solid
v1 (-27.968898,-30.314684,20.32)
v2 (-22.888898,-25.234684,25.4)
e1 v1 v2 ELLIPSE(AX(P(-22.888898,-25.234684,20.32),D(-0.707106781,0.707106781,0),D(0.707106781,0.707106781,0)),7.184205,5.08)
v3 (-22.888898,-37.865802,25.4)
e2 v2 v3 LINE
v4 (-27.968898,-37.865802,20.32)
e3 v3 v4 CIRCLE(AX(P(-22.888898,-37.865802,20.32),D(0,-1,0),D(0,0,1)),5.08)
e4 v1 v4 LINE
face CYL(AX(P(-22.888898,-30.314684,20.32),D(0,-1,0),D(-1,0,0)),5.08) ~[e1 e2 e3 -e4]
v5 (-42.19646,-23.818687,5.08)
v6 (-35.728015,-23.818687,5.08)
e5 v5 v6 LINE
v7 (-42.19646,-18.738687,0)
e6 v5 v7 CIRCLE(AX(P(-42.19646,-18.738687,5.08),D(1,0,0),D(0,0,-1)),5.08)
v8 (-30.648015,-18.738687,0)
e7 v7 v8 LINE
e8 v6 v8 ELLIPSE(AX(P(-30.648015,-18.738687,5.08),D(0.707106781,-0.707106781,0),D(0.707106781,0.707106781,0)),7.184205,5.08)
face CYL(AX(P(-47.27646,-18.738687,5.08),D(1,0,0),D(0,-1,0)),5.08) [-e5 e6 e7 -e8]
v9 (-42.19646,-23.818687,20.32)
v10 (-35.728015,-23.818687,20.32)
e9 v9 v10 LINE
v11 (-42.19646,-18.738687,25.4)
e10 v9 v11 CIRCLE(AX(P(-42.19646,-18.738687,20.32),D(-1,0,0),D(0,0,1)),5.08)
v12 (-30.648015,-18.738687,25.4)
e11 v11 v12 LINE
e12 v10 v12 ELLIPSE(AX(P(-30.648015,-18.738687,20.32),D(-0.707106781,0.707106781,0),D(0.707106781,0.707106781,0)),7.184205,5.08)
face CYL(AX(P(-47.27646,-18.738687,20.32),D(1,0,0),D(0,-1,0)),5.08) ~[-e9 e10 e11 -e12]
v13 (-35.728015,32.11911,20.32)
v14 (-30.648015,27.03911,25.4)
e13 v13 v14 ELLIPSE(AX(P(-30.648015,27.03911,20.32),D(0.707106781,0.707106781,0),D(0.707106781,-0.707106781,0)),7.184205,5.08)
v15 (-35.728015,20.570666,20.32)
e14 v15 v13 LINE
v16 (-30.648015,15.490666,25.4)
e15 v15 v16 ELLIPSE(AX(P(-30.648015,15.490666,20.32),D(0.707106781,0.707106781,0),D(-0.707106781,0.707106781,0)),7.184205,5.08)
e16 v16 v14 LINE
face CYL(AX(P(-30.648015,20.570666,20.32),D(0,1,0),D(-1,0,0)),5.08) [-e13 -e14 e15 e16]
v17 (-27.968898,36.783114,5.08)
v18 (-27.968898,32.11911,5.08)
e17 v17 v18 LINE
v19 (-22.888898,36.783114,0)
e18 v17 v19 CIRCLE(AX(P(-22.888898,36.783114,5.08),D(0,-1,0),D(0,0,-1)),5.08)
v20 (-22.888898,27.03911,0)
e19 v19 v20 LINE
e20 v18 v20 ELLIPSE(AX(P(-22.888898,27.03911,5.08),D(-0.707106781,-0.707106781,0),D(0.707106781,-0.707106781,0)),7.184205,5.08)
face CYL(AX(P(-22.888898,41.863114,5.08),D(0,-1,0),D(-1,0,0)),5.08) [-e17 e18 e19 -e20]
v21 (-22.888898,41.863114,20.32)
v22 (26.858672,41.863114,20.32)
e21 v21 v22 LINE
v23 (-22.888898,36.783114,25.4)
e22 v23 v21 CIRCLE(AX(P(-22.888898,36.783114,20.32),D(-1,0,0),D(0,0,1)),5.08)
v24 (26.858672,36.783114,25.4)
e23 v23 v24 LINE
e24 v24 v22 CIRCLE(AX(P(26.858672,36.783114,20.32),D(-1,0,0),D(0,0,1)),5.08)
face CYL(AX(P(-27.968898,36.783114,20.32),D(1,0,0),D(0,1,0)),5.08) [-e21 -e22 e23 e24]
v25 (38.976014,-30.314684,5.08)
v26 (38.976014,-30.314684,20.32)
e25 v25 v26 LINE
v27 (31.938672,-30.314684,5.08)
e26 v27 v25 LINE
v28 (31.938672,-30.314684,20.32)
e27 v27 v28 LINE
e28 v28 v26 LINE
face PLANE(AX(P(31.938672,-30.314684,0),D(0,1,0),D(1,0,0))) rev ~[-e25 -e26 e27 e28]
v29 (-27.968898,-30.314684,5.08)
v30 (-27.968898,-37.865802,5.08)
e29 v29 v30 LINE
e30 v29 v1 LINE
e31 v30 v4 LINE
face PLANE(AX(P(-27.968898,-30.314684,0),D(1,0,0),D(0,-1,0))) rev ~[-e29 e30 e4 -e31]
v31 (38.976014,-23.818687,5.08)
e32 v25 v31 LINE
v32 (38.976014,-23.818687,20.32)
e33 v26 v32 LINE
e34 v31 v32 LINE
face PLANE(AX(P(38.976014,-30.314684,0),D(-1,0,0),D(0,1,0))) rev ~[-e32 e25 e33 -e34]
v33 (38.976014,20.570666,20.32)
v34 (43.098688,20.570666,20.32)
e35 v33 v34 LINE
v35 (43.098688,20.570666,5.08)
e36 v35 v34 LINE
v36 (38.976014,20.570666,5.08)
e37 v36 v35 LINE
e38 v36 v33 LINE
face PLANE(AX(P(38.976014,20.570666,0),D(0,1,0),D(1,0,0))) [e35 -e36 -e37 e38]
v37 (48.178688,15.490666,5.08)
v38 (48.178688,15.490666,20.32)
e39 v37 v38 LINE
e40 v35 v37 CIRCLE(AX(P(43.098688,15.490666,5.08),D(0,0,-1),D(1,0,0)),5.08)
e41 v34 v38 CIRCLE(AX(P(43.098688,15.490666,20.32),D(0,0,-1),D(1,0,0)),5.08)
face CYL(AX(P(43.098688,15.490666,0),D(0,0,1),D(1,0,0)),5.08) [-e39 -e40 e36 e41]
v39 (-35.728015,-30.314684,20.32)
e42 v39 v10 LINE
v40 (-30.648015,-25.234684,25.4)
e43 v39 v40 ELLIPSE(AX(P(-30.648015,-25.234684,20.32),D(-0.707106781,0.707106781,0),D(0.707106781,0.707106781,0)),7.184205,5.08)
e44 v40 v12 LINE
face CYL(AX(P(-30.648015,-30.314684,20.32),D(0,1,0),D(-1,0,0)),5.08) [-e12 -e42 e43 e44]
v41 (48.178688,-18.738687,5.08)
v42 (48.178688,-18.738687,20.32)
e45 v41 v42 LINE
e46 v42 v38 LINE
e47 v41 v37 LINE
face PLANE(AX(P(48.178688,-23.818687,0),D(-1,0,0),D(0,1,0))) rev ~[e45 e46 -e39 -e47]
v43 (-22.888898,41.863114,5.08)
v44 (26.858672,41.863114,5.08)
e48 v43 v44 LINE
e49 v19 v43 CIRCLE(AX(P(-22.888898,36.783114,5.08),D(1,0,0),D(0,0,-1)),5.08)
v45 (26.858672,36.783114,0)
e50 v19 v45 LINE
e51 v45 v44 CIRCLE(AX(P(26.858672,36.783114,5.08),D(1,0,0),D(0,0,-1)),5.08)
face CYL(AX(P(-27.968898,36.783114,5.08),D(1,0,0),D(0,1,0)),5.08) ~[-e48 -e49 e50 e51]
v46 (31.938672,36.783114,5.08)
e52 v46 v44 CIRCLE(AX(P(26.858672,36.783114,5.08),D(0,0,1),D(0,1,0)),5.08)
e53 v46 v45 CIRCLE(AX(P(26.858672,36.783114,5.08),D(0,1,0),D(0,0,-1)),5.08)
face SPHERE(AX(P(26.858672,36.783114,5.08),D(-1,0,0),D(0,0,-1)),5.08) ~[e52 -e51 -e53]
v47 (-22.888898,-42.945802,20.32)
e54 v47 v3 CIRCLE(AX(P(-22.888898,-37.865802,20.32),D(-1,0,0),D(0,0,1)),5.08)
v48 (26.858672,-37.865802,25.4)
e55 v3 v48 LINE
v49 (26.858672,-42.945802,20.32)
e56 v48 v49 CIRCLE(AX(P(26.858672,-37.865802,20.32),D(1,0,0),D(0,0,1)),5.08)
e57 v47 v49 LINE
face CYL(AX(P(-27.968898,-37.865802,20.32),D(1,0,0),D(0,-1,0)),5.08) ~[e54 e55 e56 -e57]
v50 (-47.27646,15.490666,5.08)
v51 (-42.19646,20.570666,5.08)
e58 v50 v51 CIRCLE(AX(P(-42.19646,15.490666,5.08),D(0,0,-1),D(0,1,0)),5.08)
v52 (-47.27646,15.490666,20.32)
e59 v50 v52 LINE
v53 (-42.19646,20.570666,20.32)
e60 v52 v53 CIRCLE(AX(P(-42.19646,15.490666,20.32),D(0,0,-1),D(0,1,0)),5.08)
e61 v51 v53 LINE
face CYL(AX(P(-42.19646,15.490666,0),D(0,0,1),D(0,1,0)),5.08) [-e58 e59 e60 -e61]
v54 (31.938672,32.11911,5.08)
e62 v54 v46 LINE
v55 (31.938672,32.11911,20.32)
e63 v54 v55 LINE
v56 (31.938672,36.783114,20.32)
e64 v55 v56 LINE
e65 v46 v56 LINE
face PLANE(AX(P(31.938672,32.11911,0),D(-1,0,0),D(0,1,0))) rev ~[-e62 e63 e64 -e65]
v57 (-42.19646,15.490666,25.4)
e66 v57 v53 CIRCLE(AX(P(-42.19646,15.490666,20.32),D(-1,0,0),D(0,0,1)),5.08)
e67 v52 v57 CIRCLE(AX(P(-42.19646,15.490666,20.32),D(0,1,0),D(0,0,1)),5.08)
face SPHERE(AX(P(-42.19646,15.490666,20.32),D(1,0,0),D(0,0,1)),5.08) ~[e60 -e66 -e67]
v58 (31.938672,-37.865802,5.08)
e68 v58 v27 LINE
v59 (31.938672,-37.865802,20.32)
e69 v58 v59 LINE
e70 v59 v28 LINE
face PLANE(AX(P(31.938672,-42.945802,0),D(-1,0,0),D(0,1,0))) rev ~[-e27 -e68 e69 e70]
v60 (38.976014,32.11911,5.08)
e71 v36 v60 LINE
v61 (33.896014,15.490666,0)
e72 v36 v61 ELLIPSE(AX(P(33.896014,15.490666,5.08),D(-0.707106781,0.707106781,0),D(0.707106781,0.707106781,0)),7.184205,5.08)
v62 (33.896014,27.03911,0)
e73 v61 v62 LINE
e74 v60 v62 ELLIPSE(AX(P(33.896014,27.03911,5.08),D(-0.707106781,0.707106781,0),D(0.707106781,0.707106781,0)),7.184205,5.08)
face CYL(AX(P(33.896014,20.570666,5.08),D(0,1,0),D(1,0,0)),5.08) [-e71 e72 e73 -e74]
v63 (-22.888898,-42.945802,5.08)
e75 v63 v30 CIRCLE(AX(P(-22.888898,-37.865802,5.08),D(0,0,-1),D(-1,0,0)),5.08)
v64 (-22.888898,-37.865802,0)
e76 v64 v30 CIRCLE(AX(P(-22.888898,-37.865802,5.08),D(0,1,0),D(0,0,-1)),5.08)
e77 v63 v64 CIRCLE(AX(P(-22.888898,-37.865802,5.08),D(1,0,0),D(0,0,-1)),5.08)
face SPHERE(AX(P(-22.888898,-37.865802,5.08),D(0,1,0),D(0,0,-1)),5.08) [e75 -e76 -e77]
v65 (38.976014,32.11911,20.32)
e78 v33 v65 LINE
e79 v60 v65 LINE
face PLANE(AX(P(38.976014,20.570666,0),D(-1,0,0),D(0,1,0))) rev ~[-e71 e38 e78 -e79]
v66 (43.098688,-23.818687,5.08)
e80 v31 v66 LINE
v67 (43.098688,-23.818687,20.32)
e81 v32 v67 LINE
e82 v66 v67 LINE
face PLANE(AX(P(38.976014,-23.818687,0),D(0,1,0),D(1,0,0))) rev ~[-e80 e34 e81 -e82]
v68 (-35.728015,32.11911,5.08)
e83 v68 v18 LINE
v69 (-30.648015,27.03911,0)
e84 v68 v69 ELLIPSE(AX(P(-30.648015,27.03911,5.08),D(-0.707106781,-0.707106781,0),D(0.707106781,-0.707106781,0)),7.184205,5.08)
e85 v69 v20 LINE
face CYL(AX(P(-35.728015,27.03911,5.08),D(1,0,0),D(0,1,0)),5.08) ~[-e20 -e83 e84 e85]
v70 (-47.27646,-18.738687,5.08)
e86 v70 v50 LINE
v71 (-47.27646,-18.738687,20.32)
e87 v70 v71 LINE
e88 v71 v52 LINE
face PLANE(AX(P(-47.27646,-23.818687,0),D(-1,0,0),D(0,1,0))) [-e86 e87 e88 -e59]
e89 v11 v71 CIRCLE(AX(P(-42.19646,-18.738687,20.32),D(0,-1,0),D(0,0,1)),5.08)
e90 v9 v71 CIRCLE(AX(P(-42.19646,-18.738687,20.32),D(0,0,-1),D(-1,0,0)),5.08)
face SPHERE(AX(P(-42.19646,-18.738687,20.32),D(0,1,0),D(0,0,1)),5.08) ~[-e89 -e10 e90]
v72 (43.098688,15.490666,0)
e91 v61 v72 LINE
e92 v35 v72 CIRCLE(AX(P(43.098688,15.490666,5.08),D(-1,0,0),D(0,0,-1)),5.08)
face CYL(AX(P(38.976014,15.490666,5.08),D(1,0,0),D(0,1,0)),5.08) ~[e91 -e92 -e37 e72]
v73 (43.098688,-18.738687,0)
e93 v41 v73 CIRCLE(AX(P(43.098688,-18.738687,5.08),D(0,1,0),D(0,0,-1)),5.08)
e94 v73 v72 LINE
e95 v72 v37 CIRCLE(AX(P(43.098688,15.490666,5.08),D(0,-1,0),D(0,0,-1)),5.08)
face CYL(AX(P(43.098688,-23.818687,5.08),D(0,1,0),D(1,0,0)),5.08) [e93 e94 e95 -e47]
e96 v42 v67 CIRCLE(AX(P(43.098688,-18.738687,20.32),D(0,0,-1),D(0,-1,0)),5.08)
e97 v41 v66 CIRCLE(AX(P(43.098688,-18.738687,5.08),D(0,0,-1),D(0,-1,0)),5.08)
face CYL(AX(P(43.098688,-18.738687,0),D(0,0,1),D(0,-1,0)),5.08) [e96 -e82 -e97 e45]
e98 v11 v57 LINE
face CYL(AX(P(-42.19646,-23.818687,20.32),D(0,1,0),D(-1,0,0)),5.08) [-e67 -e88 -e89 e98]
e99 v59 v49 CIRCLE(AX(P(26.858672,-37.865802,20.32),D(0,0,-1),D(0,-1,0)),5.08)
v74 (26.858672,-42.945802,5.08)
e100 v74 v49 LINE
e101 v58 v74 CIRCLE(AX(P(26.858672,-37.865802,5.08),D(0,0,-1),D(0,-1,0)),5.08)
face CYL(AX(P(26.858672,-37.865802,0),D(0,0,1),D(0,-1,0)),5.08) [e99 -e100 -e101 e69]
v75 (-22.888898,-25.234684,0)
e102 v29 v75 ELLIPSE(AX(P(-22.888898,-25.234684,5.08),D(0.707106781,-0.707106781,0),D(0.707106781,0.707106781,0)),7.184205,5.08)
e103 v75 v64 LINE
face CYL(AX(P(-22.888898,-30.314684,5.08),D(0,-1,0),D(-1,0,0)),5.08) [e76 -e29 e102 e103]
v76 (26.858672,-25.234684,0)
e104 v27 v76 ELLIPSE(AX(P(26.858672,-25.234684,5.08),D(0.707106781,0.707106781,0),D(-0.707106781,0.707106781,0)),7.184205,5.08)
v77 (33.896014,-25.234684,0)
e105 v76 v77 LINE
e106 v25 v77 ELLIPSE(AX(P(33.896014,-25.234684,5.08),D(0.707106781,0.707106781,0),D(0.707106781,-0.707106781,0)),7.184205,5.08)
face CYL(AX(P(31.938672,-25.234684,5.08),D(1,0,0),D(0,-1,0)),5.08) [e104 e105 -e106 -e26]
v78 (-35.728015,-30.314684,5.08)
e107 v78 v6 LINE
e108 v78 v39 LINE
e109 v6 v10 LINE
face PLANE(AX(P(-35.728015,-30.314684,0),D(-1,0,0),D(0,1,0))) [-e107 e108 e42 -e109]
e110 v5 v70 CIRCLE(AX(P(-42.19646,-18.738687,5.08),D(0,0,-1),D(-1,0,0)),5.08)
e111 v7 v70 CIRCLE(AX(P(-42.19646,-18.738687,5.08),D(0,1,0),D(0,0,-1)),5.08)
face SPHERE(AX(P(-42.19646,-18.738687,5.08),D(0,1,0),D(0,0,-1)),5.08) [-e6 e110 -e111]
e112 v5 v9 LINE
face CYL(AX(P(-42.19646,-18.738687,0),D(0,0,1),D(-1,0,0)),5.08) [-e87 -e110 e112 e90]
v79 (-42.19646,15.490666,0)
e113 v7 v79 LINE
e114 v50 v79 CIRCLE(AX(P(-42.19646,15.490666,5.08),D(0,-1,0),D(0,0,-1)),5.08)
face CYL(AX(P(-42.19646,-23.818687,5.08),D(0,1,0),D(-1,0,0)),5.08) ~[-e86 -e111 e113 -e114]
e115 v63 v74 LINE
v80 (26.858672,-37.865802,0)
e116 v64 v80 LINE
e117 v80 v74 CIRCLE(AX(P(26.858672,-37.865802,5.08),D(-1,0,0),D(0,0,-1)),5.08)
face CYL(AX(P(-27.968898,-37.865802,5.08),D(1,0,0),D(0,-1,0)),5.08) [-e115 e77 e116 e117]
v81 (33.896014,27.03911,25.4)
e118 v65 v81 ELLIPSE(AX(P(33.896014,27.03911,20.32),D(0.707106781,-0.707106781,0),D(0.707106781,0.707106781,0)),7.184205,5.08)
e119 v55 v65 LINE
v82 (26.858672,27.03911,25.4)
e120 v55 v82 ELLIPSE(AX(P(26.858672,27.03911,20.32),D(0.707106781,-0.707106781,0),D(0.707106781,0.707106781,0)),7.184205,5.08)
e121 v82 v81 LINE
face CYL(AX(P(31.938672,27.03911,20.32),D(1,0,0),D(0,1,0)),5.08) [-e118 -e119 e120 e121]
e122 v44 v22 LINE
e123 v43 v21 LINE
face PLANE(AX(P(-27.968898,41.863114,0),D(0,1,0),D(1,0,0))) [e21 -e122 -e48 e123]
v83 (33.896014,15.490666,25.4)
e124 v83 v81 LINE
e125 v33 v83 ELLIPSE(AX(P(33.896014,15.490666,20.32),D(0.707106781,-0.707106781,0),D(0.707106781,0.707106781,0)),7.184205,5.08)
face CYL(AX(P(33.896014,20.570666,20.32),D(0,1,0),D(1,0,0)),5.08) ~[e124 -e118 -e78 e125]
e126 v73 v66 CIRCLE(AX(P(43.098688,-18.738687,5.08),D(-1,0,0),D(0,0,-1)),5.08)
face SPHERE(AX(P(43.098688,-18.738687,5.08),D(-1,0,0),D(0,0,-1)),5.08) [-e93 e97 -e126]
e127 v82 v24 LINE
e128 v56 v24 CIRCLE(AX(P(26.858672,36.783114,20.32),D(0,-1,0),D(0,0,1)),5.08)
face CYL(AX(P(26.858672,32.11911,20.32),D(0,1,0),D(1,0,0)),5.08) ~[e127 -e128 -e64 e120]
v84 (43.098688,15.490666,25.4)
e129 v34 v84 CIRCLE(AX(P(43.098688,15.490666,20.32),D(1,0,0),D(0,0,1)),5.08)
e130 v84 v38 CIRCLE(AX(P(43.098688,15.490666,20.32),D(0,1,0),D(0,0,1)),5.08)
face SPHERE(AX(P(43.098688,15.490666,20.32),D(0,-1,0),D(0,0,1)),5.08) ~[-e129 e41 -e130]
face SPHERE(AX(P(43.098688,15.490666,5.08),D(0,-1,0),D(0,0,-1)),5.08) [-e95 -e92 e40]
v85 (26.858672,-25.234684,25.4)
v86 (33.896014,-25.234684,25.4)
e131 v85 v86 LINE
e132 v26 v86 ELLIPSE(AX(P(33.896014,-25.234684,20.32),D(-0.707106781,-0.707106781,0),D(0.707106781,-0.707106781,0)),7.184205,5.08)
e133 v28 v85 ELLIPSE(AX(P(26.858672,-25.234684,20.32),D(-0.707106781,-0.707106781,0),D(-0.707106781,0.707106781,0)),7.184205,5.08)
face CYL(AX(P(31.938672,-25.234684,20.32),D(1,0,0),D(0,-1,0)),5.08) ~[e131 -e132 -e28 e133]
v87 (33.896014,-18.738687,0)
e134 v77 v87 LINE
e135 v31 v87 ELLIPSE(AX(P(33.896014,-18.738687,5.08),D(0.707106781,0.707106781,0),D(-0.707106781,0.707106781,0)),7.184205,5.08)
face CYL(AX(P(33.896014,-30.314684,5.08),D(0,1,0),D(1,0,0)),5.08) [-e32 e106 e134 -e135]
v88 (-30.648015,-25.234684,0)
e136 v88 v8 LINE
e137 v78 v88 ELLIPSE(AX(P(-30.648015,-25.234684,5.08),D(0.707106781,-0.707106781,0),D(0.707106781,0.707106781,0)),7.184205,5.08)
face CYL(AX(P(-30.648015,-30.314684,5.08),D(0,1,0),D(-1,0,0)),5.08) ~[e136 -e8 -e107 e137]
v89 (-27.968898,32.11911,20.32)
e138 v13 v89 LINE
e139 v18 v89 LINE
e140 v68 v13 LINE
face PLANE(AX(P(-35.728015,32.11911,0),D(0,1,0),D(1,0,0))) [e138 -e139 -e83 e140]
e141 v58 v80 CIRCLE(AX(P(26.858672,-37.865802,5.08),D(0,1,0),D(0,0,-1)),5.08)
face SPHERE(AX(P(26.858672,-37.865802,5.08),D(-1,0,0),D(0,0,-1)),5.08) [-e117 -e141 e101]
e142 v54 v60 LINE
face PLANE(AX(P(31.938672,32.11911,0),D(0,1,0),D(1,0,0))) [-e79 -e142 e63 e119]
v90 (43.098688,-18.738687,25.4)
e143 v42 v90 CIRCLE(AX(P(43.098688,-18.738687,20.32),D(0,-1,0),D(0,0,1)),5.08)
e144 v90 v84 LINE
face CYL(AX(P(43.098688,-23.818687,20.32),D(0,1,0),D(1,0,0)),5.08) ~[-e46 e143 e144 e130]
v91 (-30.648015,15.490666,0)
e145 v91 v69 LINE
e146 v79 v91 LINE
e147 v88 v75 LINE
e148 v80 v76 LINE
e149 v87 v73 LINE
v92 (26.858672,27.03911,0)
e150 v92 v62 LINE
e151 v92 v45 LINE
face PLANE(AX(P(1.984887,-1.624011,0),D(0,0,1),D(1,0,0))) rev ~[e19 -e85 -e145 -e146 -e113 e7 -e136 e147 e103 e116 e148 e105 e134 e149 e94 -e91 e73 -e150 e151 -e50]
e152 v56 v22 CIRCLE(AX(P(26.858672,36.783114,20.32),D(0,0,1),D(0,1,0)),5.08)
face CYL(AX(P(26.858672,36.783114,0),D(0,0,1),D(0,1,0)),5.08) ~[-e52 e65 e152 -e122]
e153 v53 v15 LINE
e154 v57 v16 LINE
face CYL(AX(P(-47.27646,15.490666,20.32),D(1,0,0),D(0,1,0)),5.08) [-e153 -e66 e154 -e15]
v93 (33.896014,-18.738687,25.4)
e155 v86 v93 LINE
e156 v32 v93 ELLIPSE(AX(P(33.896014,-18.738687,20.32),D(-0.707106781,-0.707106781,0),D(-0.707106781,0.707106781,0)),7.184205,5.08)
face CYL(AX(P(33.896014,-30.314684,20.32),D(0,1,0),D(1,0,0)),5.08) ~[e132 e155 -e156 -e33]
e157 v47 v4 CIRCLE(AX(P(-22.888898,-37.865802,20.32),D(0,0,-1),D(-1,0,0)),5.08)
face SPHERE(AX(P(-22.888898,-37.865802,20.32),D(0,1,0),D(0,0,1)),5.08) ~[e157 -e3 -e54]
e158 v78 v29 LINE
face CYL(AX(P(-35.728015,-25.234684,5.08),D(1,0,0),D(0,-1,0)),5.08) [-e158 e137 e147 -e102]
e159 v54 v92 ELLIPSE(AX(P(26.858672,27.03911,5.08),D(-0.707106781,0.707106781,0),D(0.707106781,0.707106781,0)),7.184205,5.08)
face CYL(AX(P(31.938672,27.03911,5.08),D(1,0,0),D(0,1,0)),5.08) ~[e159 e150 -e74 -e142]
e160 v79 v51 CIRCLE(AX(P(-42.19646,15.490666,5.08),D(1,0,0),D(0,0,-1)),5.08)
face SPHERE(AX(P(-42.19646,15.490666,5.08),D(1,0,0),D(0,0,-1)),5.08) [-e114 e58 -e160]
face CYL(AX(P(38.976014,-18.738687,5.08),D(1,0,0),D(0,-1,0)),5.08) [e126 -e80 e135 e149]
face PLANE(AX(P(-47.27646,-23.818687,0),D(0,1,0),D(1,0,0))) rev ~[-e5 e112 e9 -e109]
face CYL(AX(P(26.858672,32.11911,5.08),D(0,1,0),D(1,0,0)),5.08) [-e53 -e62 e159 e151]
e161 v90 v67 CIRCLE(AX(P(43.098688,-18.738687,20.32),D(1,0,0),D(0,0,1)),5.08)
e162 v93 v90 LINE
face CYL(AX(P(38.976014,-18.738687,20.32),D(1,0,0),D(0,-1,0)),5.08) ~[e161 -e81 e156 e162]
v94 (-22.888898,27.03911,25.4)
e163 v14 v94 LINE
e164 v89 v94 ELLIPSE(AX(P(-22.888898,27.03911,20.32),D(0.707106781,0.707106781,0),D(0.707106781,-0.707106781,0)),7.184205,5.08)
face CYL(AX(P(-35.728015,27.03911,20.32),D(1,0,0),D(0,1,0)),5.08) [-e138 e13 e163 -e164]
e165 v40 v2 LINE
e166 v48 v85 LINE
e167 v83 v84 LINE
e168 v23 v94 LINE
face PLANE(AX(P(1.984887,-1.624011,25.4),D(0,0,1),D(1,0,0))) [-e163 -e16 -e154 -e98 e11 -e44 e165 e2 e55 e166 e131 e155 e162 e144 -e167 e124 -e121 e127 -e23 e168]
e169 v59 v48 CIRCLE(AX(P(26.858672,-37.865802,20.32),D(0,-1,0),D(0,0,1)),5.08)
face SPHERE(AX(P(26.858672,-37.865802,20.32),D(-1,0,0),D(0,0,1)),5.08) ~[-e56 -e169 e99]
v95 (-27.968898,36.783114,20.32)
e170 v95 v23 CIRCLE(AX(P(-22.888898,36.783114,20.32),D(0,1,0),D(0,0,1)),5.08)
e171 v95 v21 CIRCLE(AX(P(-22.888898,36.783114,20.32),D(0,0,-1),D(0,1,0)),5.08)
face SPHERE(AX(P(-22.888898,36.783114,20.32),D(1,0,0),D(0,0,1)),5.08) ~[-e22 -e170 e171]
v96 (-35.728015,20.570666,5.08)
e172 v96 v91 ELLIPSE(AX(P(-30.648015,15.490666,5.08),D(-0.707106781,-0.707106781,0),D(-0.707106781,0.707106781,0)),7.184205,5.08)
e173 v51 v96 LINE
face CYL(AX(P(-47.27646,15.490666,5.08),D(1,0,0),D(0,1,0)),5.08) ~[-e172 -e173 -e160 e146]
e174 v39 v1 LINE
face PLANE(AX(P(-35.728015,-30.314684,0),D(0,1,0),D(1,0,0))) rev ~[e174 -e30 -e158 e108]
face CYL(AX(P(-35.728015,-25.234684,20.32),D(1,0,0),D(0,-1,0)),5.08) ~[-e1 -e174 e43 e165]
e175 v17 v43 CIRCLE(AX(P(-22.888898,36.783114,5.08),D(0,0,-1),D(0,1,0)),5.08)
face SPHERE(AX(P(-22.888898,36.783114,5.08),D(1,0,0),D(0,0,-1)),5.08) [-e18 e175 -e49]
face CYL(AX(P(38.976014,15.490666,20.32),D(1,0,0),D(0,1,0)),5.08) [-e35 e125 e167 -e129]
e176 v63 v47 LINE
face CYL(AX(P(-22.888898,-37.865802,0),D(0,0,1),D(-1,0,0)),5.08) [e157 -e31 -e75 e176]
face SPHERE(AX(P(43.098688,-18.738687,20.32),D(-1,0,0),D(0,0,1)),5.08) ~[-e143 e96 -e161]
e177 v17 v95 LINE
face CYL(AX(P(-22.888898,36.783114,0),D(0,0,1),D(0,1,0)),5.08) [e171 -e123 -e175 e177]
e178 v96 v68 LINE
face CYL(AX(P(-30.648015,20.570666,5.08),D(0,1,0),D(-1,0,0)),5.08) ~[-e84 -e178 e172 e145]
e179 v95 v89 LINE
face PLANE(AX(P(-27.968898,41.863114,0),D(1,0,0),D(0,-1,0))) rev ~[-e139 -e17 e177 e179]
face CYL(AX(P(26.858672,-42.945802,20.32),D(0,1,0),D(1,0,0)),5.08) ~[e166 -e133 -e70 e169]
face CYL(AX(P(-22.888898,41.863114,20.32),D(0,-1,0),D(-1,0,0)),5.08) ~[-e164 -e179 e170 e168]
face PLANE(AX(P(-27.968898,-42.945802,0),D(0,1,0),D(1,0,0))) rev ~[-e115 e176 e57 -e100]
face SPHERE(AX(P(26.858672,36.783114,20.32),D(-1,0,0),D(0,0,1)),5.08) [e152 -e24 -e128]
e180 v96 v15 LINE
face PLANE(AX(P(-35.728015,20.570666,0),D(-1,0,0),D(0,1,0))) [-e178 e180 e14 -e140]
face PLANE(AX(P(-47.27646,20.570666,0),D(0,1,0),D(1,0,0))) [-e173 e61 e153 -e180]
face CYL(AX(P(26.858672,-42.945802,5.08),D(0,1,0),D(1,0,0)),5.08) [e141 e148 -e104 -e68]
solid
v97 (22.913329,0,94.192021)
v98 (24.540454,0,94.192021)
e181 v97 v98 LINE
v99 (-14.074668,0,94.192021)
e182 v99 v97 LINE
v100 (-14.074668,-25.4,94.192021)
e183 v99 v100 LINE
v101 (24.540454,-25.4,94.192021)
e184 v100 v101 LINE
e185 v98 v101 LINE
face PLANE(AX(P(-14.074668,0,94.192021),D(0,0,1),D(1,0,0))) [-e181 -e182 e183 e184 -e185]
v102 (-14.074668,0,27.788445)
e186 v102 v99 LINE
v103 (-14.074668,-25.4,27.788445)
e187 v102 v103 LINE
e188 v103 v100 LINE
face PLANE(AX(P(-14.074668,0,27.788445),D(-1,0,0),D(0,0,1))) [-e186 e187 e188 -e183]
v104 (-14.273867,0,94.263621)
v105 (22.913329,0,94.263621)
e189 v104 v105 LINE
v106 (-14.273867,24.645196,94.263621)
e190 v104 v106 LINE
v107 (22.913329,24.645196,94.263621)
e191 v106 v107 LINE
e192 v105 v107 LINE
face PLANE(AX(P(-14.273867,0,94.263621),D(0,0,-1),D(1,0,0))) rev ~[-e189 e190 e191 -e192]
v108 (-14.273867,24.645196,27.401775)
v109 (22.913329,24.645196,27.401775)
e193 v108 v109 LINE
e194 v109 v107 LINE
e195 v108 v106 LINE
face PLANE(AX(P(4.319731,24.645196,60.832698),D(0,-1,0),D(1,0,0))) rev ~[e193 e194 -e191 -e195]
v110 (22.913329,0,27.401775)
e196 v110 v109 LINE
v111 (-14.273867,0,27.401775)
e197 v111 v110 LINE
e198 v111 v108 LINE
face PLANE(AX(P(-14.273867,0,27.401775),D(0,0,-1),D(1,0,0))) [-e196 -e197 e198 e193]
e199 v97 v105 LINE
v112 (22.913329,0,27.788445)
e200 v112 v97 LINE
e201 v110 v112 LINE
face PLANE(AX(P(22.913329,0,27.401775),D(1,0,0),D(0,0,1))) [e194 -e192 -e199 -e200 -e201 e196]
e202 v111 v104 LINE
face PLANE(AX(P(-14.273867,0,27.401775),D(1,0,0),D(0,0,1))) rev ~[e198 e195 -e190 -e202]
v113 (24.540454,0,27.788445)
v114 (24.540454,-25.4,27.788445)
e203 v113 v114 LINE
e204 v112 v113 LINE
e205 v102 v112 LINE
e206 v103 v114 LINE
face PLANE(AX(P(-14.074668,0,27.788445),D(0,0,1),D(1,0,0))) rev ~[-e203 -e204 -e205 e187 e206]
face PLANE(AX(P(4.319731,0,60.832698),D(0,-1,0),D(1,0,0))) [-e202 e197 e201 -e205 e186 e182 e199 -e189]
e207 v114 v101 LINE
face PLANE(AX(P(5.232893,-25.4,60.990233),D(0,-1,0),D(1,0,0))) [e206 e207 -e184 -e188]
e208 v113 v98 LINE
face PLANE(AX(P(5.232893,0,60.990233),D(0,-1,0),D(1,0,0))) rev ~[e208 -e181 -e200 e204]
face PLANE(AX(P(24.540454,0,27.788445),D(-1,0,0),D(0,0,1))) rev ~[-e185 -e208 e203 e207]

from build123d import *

# Parameters (mm, degrees)
F0_W     = 59.9075704813
F0_H     = 44.3893522024
F0_H_2   = 11.5484446287
F0_H_3   = 9.7440034151
F0_W_2   = 11.5484446287
F0_W_3   = 7.75911659
F0_H_4   = 6.4959973097
F0_H_5   = 12.6311182976
F0_W_4   = 9.2026740313
F0_W_5   = 7.0373415947
F1_DEPTH = 25.4
F2_R     = 5.08
F3_W     = 38.6151224375
F3_H     = 66.4035752416
F4_DEPTH = 25.4
F5_W     = 37.1871963143
F5_H     = 66.8618455529
F6_DEPTH = 24.6451962739


with BuildPart() as f1:
    # F0 (on Top) → F1 (new body)
    with BuildSketch(Plane.XY):
        with Locations((1.9848868251, -1.6240105033)):
            Rectangle(F0_W, F0_H)
        with Locations((1.9848868251, 26.3448879123)):
            Rectangle(F0_W, F0_H_2)
        with Locations((1.9848868251, 36.9911119342)):
            Rectangle(F0_W, F0_H_3)
        with Locations((-41.5022373199, -1.6240105033)):
            Rectangle(F0_W_2, F0_H)
        with Locations((-31.8484567106, 26.3448879123)):
            Rectangle(F0_W_3, F0_H_2)
        with Locations((-31.8484567106, -1.6240105033)):
            Rectangle(F0_W_3, F0_H)
        with Locations((1.9848868251, -27.0666852593)):
            Rectangle(F0_W, F0_H_4)
        with Locations((1.9848868251, -36.630243063)):
            Rectangle(F0_W, F0_H_5)
        with Locations((-31.8484567106, -27.0666852593)):
            Rectangle(F0_W_3, F0_H_4)
        with Locations((43.5773506761, -1.6240105033)):
            Rectangle(F0_W_4, F0_H)
        with Locations((35.4573428631, 26.3448879123)):
            Rectangle(F0_W_5, F0_H_2)
        with Locations((35.4573428631, -27.0666852593)):
            Rectangle(F0_W_5, F0_H_4)
        with Locations((35.4573428631, -1.6240105033)):
            Rectangle(F0_W_5, F0_H)
    extrude(amount=F1_DEPTH)

    # F2
    f2_edges = [f1.edges().sort_by_distance(p)[0] for p in [
        (1.984887, 41.863114, 25.4),
        (-27.968898, 36.991112, 25.4),
        (-31.848457, 32.11911, 25.4),
        (-35.728015, 26.344888, 25.4),
        (-41.502237, 20.570666, 25.4),
        (-47.27646, -1.624011, 25.4),
        (-41.502237, -23.818687, 25.4),
        (-35.728015, -27.066685, 25.4),
        (-31.848457, -30.314684, 25.4),
        (-27.968898, -36.630243, 25.4),
        (1.984887, -42.945802, 25.4),
        (31.938672, -36.630243, 25.4),
        (35.457343, -30.314684, 25.4),
        (38.976014, -27.066685, 25.4),
        (43.577351, -23.818687, 25.4),
        (48.178688, -1.624011, 25.4),
        (43.577351, 20.570666, 25.4),
        (38.976014, 26.344888, 25.4),
        (35.457343, 32.11911, 25.4),
        (31.938672, 36.991112, 25.4),
        (1.984887, 41.863114, 0),
        (-27.968898, 36.991112, 0),
        (-31.848457, 32.11911, 0),
        (-35.728015, 26.344888, 0),
        (-41.502237, 20.570666, 0),
        (-47.27646, -1.624011, 0),
        (-41.502237, -23.818687, 0),
        (-35.728015, -27.066685, 0),
        (-31.848457, -30.314684, 0),
        (-27.968898, -36.630243, 0),
        (1.984887, -42.945802, 0),
        (31.938672, -36.630243, 0),
        (35.457343, -30.314684, 0),
        (38.976014, -27.066685, 0),
        (43.577351, -23.818687, 0),
        (48.178688, -1.624011, 0),
        (43.577351, 20.570666, 0),
        (38.976014, 26.344888, 0),
        (35.457343, 32.11911, 0),
        (31.938672, 36.991112, 0),
        (-27.968898, -42.945802, 12.7),
        (31.938672, -42.945802, 12.7),
        (-47.27646, 20.570666, 12.7),
        (-47.27646, -23.818687, 12.7),
        (31.938672, 41.863114, 12.7),
        (-27.968898, 41.863114, 12.7),
        (48.178688, -23.818687, 12.7),
        (48.178688, 20.570666, 12.7),
    ]]
    fillet(f2_edges, radius=F2_R)


with BuildPart() as f4:
    # F3 (on Front) → F4 (new body)
    with BuildSketch(Plane.XZ):
        with Locations((5.2328929305, 60.9902329743)):
            Rectangle(F3_W, F3_H)
    extrude(amount=F4_DEPTH)

    # F5 (on Front) → F6 (join)
    with BuildSketch(Plane.XZ):
        with Locations((4.3197311461, 60.8326978981)):
            Rectangle(F5_W, F5_H)
    extrude(amount=-F6_DEPTH)


solid = Compound([f1.part, f4.part])
